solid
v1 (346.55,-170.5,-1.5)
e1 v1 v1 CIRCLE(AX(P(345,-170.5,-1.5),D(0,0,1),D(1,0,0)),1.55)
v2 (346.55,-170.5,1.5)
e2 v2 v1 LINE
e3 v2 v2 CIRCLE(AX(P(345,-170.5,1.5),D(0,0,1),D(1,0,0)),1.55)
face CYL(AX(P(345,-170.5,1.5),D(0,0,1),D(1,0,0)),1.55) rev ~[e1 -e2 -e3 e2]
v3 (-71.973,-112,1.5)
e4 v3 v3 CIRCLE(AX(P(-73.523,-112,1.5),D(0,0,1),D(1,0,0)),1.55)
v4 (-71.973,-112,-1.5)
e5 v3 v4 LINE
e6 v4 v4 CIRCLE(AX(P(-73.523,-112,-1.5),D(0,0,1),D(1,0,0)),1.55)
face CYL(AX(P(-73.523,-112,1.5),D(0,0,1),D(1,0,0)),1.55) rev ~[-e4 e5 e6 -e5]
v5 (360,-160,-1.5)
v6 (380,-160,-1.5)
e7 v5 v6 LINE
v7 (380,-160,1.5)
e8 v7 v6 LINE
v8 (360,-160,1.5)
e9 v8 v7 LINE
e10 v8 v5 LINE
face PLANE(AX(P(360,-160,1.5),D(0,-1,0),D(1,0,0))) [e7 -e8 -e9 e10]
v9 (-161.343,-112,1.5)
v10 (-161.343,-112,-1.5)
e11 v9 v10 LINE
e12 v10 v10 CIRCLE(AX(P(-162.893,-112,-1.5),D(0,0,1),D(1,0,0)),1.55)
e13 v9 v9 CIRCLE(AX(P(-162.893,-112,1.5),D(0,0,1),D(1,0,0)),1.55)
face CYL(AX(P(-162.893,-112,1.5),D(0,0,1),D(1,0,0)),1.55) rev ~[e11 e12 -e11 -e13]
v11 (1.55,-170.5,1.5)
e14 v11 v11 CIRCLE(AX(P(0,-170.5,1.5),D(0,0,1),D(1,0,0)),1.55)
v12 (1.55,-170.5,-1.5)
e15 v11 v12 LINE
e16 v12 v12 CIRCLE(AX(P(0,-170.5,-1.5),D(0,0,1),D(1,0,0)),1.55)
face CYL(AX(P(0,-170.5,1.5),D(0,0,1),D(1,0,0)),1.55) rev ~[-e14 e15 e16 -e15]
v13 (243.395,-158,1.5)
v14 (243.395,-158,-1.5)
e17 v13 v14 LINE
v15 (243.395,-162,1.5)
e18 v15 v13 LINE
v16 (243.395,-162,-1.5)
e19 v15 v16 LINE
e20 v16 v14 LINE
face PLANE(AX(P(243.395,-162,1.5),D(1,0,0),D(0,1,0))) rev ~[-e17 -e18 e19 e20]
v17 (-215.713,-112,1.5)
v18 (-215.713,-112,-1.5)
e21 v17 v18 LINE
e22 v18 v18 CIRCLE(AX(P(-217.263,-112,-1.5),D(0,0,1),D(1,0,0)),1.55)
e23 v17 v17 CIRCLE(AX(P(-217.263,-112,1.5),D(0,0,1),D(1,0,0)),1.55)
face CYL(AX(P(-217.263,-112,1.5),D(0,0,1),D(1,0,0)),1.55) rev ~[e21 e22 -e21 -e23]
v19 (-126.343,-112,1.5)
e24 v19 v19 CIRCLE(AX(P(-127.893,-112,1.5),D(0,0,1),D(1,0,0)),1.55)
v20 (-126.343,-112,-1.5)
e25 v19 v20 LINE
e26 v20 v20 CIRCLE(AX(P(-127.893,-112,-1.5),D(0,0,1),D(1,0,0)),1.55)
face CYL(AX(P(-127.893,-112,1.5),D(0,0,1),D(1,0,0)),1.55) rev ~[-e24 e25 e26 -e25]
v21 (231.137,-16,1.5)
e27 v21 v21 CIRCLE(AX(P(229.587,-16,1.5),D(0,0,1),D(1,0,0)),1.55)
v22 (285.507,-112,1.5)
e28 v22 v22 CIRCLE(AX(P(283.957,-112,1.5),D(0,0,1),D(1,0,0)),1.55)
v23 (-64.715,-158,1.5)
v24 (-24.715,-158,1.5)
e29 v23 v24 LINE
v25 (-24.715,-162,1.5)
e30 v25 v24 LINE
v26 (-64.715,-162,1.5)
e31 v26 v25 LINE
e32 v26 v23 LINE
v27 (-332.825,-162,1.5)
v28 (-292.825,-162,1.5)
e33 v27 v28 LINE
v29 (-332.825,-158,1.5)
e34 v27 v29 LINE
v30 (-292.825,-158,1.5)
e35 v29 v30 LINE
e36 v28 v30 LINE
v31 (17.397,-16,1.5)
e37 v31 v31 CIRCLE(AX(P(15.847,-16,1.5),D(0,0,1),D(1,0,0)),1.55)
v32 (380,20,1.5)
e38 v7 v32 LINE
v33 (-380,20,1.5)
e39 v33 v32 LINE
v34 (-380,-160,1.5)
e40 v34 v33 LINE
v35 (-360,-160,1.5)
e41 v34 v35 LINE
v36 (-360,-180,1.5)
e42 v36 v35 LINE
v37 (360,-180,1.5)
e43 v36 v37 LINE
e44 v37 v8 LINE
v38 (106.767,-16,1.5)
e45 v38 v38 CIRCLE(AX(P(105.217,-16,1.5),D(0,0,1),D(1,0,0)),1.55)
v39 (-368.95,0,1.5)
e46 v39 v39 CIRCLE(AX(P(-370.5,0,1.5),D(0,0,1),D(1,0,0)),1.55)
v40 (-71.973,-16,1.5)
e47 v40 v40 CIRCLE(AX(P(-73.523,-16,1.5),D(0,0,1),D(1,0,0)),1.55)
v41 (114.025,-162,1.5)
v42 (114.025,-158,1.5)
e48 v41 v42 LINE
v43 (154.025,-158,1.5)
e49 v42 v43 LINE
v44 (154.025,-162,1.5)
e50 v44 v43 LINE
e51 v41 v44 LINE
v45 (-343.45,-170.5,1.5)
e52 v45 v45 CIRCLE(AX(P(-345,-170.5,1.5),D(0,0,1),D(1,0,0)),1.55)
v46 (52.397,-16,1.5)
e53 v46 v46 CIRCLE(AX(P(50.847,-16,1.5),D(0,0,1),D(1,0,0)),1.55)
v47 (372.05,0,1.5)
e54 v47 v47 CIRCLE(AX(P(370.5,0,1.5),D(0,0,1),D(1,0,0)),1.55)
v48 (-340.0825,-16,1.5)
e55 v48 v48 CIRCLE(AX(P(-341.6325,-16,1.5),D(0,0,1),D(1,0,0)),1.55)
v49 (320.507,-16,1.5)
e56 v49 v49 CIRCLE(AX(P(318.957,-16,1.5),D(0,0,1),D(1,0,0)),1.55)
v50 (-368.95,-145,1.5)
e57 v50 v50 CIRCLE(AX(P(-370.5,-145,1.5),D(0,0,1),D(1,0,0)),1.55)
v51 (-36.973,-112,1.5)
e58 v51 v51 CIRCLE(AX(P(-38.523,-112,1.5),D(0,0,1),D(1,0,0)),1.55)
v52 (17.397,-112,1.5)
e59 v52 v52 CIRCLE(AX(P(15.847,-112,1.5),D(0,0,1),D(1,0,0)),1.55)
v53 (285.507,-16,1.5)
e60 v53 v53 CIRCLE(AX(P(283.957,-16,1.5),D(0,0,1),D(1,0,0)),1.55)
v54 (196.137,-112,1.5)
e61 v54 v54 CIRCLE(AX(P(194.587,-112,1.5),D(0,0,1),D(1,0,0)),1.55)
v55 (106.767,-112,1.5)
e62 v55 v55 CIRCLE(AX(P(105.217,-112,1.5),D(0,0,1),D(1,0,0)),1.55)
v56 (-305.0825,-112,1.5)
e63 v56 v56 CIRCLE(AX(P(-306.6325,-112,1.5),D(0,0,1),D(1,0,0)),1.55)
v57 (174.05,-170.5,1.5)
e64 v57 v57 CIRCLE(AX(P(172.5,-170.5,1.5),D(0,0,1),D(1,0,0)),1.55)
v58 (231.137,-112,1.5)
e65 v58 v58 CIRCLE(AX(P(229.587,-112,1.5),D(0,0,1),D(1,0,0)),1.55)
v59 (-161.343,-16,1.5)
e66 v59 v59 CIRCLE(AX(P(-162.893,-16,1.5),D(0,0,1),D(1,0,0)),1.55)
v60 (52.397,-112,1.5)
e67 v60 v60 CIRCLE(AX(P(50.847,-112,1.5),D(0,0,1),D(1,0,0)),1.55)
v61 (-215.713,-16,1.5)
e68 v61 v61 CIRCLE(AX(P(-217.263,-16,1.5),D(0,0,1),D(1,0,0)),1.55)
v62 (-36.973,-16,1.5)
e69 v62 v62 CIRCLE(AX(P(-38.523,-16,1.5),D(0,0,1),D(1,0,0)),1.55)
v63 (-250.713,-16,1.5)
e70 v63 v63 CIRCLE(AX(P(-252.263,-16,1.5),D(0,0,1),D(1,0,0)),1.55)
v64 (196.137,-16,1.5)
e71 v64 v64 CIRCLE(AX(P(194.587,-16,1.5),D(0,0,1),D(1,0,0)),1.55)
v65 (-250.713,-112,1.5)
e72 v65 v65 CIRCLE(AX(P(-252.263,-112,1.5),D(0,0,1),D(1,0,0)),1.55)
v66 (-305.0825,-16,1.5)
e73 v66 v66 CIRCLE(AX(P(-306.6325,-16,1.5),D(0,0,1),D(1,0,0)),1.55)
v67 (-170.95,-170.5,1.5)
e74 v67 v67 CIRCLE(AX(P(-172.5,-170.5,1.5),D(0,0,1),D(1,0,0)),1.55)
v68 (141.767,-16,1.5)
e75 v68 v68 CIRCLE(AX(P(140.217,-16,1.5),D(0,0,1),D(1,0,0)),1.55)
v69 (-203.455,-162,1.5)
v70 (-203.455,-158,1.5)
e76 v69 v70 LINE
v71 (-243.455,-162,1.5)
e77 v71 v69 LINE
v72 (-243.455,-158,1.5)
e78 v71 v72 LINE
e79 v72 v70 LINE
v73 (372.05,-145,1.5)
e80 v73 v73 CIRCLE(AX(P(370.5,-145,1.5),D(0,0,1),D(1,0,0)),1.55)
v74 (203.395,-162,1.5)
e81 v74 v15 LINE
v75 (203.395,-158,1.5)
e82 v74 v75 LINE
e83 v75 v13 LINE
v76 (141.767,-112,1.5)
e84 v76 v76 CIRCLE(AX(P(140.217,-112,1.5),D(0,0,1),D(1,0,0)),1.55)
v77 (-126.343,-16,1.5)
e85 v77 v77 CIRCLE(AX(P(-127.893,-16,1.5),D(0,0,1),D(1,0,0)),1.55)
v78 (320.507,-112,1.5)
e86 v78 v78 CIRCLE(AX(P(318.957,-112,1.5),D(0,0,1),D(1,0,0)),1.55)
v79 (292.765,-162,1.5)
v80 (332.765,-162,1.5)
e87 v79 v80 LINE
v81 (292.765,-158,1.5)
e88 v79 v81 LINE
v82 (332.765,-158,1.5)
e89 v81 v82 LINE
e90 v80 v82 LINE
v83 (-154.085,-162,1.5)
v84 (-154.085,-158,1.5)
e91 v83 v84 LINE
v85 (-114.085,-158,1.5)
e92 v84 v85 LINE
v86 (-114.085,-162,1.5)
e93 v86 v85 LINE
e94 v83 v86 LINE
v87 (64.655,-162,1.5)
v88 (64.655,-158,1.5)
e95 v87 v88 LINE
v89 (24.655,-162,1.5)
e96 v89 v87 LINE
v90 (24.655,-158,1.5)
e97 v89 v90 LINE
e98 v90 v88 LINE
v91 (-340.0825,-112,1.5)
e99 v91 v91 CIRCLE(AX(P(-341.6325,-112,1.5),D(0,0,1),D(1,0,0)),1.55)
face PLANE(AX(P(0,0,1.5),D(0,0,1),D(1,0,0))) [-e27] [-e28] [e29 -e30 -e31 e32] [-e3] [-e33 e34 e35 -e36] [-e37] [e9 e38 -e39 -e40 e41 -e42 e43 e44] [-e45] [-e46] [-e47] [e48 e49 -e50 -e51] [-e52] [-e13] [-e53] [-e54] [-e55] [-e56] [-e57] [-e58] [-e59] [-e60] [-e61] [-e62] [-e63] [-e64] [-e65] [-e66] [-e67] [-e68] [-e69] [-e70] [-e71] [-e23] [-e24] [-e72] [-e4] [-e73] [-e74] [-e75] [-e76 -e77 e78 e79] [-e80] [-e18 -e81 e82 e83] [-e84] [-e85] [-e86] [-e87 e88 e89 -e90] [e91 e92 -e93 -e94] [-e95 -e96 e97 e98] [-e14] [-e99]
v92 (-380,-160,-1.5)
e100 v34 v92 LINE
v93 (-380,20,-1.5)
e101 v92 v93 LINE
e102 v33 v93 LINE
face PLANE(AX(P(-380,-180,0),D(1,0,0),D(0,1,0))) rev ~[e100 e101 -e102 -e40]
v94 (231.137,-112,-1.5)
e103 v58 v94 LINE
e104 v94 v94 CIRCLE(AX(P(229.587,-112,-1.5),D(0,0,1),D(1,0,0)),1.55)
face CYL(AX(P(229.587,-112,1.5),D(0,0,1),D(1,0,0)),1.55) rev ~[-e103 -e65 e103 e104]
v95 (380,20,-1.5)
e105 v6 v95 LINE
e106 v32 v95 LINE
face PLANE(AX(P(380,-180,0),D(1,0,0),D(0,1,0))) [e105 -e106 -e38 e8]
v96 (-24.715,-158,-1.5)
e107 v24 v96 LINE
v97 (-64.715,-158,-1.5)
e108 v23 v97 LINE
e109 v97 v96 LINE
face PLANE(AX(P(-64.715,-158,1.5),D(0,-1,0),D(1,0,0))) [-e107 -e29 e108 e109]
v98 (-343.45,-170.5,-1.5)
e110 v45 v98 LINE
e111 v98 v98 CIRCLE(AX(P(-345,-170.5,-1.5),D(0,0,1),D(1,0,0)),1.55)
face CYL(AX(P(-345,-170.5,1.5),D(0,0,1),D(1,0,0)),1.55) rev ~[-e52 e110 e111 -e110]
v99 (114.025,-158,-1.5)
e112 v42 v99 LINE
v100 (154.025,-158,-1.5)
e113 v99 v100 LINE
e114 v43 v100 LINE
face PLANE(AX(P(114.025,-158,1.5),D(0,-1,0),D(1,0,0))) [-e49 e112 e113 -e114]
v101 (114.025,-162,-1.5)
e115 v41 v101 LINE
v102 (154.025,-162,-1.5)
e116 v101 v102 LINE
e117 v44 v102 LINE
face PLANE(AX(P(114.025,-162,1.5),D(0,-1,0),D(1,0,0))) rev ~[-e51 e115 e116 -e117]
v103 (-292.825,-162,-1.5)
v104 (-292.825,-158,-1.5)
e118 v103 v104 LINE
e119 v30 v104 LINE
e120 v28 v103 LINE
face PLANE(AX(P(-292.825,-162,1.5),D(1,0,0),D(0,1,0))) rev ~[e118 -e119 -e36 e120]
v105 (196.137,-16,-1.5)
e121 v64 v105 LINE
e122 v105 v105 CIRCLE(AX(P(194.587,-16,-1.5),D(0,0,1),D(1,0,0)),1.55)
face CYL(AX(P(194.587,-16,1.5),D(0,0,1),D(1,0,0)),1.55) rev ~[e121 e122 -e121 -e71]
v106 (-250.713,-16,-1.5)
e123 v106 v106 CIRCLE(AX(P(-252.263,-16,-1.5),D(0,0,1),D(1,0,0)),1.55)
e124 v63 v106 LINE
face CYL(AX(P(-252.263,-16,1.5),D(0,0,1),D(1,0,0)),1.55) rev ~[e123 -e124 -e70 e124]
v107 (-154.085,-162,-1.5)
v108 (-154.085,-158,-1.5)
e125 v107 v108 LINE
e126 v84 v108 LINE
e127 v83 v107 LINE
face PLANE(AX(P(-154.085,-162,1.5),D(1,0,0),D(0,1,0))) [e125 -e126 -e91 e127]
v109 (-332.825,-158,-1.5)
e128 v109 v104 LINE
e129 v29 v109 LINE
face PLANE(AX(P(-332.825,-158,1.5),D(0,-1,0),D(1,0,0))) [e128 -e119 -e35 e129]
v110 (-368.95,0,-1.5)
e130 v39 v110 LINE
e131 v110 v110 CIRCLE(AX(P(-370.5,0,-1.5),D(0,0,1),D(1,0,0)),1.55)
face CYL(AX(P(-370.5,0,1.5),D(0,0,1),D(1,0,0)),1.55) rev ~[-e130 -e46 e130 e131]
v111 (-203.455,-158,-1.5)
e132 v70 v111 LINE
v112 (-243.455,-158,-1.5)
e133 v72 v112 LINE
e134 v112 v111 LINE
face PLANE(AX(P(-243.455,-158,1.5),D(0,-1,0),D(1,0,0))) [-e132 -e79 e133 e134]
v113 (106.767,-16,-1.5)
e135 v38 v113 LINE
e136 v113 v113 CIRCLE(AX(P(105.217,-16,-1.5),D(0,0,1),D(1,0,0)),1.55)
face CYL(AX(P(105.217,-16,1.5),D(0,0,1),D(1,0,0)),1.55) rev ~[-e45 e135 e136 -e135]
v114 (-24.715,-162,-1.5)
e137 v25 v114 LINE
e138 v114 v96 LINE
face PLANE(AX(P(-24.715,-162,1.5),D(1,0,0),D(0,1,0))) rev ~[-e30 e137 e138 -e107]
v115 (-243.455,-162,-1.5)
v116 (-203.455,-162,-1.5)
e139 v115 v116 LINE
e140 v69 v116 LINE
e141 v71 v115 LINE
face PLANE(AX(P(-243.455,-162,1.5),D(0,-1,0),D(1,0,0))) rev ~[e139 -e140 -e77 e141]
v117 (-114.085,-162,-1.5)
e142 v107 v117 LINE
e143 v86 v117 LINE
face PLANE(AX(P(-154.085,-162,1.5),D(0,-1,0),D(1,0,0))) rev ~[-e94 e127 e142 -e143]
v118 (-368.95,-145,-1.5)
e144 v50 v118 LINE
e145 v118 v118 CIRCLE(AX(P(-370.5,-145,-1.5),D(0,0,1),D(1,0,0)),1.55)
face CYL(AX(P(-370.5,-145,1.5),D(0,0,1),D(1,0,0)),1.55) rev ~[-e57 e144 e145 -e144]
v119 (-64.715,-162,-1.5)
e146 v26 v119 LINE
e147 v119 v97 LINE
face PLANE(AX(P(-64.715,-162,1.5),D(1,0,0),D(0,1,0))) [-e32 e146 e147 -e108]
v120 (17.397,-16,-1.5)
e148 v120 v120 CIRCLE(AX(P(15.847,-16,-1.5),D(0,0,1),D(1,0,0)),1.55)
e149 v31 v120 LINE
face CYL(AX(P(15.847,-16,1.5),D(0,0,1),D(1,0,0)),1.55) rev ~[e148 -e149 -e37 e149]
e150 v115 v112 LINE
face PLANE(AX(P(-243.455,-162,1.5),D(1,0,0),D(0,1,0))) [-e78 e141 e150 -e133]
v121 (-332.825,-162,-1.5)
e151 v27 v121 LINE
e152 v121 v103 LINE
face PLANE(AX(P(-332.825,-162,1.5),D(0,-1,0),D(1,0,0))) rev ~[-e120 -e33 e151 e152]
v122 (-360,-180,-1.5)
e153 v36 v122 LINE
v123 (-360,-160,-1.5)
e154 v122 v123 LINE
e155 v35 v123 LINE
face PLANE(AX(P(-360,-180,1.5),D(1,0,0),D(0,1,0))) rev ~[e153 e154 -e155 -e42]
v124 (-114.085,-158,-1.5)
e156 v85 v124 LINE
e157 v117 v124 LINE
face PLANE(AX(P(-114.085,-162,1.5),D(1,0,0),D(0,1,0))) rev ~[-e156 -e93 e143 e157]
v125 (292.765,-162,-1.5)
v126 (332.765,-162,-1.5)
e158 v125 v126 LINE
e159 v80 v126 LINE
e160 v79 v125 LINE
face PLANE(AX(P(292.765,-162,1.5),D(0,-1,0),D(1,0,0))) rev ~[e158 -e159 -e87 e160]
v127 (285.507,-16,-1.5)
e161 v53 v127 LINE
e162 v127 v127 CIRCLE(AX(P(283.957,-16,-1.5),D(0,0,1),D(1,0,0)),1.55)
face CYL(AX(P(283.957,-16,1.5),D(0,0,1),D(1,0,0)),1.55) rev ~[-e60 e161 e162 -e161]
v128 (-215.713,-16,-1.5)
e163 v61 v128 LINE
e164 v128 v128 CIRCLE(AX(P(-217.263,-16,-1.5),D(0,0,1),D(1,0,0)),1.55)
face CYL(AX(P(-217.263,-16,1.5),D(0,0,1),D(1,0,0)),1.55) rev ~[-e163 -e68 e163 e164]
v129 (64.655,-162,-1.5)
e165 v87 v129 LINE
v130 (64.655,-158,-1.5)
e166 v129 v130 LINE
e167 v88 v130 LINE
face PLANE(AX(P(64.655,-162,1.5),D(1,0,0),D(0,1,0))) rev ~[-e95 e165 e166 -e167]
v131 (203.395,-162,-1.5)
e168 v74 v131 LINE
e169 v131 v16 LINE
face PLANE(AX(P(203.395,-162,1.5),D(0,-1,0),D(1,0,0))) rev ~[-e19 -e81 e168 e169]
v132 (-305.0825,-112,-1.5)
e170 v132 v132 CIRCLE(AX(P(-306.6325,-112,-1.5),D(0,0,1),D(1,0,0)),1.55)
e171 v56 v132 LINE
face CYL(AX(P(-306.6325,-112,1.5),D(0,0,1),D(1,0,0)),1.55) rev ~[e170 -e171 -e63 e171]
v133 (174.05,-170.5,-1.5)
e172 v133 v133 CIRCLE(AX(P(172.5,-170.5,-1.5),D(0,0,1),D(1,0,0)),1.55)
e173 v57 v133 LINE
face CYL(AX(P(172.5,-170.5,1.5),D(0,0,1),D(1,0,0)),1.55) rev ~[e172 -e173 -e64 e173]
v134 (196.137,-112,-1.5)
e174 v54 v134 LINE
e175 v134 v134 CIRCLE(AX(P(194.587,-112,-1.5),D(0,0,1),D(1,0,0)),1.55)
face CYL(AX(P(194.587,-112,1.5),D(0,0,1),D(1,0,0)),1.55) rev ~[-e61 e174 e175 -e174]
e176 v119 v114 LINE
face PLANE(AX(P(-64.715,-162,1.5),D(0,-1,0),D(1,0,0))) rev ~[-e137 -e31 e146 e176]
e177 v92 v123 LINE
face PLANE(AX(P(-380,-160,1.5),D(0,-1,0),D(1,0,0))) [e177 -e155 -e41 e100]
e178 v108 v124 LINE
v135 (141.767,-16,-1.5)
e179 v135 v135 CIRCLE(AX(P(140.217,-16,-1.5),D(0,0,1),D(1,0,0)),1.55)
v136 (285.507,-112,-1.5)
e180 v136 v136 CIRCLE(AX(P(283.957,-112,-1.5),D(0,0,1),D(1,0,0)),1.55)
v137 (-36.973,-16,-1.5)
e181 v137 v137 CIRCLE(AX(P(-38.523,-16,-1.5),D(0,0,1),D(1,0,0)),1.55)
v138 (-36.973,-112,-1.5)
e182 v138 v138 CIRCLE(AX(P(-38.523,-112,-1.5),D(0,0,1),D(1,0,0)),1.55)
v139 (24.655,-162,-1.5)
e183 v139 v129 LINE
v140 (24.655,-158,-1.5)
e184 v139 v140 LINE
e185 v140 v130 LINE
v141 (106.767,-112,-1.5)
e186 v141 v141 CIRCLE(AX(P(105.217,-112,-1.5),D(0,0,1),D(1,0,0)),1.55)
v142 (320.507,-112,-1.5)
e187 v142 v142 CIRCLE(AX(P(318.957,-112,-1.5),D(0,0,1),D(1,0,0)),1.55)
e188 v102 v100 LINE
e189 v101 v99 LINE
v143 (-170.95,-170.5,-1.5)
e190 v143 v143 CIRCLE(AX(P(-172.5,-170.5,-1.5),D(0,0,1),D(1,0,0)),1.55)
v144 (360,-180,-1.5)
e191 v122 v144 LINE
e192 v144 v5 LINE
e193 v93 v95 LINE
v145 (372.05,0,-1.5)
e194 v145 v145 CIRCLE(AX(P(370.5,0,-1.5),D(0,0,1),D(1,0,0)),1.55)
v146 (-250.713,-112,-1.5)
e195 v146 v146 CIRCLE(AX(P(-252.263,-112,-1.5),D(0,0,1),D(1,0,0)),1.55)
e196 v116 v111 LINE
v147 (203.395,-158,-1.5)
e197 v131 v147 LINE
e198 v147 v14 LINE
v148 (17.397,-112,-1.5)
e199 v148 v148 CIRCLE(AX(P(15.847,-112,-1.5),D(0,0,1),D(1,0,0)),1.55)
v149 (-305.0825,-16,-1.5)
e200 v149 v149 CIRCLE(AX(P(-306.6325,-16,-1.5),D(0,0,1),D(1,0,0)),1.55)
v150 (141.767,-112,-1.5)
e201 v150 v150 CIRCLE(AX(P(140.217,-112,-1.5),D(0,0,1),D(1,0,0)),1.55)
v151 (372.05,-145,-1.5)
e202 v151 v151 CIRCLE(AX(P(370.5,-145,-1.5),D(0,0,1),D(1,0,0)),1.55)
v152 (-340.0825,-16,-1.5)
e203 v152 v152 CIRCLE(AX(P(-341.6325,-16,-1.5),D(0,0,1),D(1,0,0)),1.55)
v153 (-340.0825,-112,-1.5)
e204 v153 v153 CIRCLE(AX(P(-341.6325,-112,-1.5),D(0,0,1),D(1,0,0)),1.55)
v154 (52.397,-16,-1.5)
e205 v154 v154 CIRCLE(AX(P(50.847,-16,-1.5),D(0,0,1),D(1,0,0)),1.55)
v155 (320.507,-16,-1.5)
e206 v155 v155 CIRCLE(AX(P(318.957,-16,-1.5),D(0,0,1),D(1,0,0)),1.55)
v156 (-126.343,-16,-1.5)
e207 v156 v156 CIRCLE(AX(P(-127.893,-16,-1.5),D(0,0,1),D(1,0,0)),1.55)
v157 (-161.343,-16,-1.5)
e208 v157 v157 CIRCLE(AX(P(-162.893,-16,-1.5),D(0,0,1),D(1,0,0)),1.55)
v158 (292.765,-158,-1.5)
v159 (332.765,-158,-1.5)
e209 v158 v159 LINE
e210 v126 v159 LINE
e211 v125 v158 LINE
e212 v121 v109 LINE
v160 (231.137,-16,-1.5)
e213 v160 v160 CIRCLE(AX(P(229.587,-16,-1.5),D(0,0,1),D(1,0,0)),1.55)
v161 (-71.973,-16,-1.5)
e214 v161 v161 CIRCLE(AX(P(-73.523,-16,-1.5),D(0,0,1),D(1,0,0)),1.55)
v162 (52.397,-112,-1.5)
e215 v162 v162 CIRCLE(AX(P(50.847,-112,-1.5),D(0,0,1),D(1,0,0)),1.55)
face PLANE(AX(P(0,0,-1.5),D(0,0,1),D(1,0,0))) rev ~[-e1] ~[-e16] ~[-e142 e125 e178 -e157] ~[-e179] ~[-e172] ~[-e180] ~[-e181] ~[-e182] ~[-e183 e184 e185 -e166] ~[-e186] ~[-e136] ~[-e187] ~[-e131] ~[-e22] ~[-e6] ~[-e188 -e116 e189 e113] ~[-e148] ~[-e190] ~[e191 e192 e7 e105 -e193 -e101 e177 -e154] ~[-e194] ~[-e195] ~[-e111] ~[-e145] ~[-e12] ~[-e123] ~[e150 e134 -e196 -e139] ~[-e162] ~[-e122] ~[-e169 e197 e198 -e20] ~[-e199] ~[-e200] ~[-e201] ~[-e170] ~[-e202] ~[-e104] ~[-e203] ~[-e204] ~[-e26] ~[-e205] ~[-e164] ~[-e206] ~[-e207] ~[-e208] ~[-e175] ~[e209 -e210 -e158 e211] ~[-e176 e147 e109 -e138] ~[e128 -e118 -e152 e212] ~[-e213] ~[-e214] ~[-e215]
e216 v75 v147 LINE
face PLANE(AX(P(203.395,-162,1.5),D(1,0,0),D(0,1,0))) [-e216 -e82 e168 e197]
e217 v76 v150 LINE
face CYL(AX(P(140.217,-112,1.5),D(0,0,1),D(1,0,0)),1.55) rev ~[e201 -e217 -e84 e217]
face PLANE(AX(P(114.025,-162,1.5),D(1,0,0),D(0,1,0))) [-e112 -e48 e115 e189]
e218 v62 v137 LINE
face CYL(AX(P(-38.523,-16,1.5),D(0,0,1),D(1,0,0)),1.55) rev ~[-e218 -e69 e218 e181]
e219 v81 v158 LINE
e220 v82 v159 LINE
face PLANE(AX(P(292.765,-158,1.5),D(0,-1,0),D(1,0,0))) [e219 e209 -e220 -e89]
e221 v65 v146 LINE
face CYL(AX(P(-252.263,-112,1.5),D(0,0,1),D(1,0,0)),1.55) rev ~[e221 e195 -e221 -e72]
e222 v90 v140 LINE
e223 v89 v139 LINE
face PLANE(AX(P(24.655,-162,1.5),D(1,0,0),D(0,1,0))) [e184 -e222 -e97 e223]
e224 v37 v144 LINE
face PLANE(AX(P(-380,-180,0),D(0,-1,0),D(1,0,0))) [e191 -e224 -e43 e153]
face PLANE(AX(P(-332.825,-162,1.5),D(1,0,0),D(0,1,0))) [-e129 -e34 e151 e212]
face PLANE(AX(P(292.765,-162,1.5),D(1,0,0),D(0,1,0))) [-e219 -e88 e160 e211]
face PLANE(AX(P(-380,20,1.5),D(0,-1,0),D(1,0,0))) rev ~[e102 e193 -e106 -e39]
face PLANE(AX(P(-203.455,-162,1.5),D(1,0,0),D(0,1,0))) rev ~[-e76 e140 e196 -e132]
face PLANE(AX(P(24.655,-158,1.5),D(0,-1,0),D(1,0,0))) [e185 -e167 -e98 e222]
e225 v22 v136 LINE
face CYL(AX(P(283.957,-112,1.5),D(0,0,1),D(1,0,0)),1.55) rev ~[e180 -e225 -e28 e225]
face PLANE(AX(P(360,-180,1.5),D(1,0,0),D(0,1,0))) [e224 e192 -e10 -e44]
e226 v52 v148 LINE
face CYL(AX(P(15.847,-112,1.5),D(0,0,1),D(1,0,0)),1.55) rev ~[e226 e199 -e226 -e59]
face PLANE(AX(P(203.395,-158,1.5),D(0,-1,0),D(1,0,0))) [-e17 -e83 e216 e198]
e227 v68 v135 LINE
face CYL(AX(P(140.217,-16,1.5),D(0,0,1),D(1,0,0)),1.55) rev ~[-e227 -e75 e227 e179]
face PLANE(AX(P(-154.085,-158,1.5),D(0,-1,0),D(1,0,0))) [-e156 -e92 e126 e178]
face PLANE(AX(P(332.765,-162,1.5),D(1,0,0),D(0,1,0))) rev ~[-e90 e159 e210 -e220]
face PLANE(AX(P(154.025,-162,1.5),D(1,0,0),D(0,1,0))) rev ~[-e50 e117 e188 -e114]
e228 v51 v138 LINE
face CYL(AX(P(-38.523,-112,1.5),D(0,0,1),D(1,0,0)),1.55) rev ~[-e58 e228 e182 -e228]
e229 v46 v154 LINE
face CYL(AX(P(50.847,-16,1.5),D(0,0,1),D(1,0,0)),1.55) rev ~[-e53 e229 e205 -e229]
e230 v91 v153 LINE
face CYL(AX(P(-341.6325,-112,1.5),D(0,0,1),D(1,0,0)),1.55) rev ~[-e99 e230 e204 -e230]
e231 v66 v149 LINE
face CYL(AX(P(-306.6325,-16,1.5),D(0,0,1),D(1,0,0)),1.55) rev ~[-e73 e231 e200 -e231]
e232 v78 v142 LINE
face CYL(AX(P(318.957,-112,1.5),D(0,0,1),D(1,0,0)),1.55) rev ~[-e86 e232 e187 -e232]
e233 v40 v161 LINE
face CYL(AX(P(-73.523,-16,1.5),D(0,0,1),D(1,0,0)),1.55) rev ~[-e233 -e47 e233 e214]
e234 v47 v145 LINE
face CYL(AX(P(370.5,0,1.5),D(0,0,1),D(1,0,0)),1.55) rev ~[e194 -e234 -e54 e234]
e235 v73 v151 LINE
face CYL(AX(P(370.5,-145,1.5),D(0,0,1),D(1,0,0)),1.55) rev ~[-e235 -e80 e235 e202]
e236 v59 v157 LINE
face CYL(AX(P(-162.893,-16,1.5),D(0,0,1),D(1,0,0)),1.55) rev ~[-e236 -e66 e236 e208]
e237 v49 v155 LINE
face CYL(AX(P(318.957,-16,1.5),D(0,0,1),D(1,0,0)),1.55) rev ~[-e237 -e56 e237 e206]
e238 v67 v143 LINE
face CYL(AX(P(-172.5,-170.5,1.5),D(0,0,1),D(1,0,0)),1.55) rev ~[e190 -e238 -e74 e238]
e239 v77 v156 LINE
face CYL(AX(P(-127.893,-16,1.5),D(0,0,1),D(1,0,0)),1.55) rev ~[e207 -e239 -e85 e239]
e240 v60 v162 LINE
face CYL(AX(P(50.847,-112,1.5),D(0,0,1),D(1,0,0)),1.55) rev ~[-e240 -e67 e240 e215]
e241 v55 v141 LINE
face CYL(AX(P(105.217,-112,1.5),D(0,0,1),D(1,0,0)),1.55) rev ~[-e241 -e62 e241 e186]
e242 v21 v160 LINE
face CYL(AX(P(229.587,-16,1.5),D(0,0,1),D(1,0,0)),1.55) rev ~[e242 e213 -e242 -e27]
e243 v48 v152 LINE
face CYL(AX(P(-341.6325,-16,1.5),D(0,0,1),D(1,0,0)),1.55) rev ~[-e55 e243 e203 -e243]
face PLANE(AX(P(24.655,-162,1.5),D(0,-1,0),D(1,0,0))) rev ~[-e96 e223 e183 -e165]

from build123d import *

# Parameters (mm, degrees)
F0_W      = 760
F0_H      = 360
F1_DEPTH  = 1.5
F2_W      = 20
F2_H      = 20
F3_DEPTH  = 3.001
F4_R      = 1.55
F5_DEPTH  = 3.001
F6_W      = 50
F6_H      = 20
F7_DEPTH  = 3.001
F8_R      = 1.55
F9_DEPTH  = 3.001
F10_W     = 40
F10_H     = 4
F11_DEPTH = 3.001
F12_W     = 760
F12_H     = 160
F13_DEPTH = 3.001


with BuildPart() as f1:
    # F0 (on Top) → F1 (new body, symmetric)
    with BuildSketch(Plane.XY):
        Rectangle(F0_W, F0_H)
    extrude(amount=F1_DEPTH, both=True)

    # F2 (on face) → F3 (cut, through all)
    with BuildSketch(Plane.XY.offset(1.5)):
        with Locations((-370, -170)):
            Rectangle(F2_W, F2_H)
        with Locations((-370, 170)):
            Rectangle(F2_W, F2_H)
        with Locations((370, -170)):
            Rectangle(F2_W, F2_H)
        with Locations((370, 170)):
            Rectangle(F2_W, F2_H)
    extrude(amount=-F3_DEPTH, mode=Mode.SUBTRACT)

    # F4 (on face) → F5 (cut, through all)
    with BuildSketch(Plane.XY.offset(1.5)):
        with Locations((-370.5, 145)):
            Circle(F4_R)
        with Locations((-370.5, 0)):
            Circle(F4_R)
        with Locations((-370.5, -145)):
            Circle(F4_R)
        with Locations((370.5, -145)):
            Circle(F4_R)
        with Locations((370.5, 0)):
            Circle(F4_R)
        with Locations((370.5, 145)):
            Circle(F4_R)
        with Locations((0, 170.5)):
            Circle(F4_R)
        with Locations((172.5, 170.5)):
            Circle(F4_R)
        with Locations((345, 170.5)):
            Circle(F4_R)
        with Locations((-172.5, 170.5)):
            Circle(F4_R)
        with Locations((-345, 170.5)):
            Circle(F4_R)
        with Locations((-345, -170.5)):
            Circle(F4_R)
        with Locations((-172.5, -170.5)):
            Circle(F4_R)
        with Locations((0, -170.5)):
            Circle(F4_R)
        with Locations((172.5, -170.5)):
            Circle(F4_R)
        with Locations((345, -170.5)):
            Circle(F4_R)
    extrude(amount=-F5_DEPTH, mode=Mode.SUBTRACT)

    # F6 (on face) → F7 (cut, through all)
    with BuildSketch(Plane.XY.offset(1.5)):
        with Locations((-234.763, 110)):
            Rectangle(F6_W, F6_H)
        with Locations((-143.659, 110)):
            Rectangle(F6_W, F6_H)
        with Locations((-52.555, 110)):
            Rectangle(F6_W, F6_H)
        with Locations((125, 110)):
            Rectangle(F6_W, F6_H)
        with Locations((225, 110)):
            Rectangle(F6_W, F6_H)
        with Locations((325, 110)):
            Rectangle(F6_W, F6_H)
        with Locations((20, 110)):
            Rectangle(F6_W, F6_H)
        with Locations((-325.867, 110)):
            Rectangle(F6_W, F6_H)
    extrude(amount=-F7_DEPTH, mode=Mode.SUBTRACT)

    # F8 (on face) → F9 (cut, through all)
    with BuildSketch(Plane.XY.offset(1.5)):
        with Locations((-341.6325, -16)):
            Circle(F8_R)
        with Locations((-306.6325, -16)):
            Circle(F8_R)
        with Locations((-341.6325, -112)):
            Circle(F8_R)
        with Locations((-306.6325, -112)):
            Circle(F8_R)
        with Locations((-252.263, -112)):
            Circle(F8_R)
        with Locations((-217.263, -112)):
            Circle(F8_R)
        with Locations((-252.263, -16)):
            Circle(F8_R)
        with Locations((-217.263, -16)):
            Circle(F8_R)
        with Locations((-162.893, -16)):
            Circle(F8_R)
        with Locations((-127.893, -16)):
            Circle(F8_R)
        with Locations((-162.893, -112)):
            Circle(F8_R)
        with Locations((-127.893, -112)):
            Circle(F8_R)
        with Locations((-73.523, -112)):
            Circle(F8_R)
        with Locations((-38.523, -112)):
            Circle(F8_R)
        with Locations((-73.523, -16)):
            Circle(F8_R)
        with Locations((-38.523, -16)):
            Circle(F8_R)
        with Locations((15.847, -16)):
            Circle(F8_R)
        with Locations((50.847, -16)):
            Circle(F8_R)
        with Locations((15.847, -112)):
            Circle(F8_R)
        with Locations((50.847, -112)):
            Circle(F8_R)
        with Locations((105.217, -112)):
            Circle(F8_R)
        with Locations((140.217, -112)):
            Circle(F8_R)
        with Locations((105.217, -16)):
            Circle(F8_R)
        with Locations((140.217, -16)):
            Circle(F8_R)
        with Locations((194.587, -16)):
            Circle(F8_R)
        with Locations((229.587, -16)):
            Circle(F8_R)
        with Locations((194.587, -112)):
            Circle(F8_R)
        with Locations((229.587, -112)):
            Circle(F8_R)
        with Locations((283.957, -112)):
            Circle(F8_R)
        with Locations((318.957, -112)):
            Circle(F8_R)
        with Locations((283.957, -16)):
            Circle(F8_R)
        with Locations((318.957, -16)):
            Circle(F8_R)
    extrude(amount=-F9_DEPTH, mode=Mode.SUBTRACT)

    # F10 (on face) → F11 (cut, through all)
    with BuildSketch(Plane.XY.offset(1.5)):
        with Locations((-312.825, -160)):
            Rectangle(F10_W, F10_H)
        with Locations((-223.455, -160)):
            Rectangle(F10_W, F10_H)
        with Locations((-134.085, -160)):
            Rectangle(F10_W, F10_H)
        with Locations((-44.715, -160)):
            Rectangle(F10_W, F10_H)
        with Locations((44.655, -160)):
            Rectangle(F10_W, F10_H)
        with Locations((134.025, -160)):
            Rectangle(F10_W, F10_H)
        with Locations((223.395, -160)):
            Rectangle(F10_W, F10_H)
        with Locations((312.765, -160)):
            Rectangle(F10_W, F10_H)
    extrude(amount=-F11_DEPTH, mode=Mode.SUBTRACT)

    # F12 (on face) → F13 (cut, through all)
    with BuildSketch(Plane.XY.offset(1.5)):
        with Locations((0, 100)):
            Rectangle(F12_W, F12_H)
    extrude(amount=-F13_DEPTH, mode=Mode.SUBTRACT)


solid = f1.part
